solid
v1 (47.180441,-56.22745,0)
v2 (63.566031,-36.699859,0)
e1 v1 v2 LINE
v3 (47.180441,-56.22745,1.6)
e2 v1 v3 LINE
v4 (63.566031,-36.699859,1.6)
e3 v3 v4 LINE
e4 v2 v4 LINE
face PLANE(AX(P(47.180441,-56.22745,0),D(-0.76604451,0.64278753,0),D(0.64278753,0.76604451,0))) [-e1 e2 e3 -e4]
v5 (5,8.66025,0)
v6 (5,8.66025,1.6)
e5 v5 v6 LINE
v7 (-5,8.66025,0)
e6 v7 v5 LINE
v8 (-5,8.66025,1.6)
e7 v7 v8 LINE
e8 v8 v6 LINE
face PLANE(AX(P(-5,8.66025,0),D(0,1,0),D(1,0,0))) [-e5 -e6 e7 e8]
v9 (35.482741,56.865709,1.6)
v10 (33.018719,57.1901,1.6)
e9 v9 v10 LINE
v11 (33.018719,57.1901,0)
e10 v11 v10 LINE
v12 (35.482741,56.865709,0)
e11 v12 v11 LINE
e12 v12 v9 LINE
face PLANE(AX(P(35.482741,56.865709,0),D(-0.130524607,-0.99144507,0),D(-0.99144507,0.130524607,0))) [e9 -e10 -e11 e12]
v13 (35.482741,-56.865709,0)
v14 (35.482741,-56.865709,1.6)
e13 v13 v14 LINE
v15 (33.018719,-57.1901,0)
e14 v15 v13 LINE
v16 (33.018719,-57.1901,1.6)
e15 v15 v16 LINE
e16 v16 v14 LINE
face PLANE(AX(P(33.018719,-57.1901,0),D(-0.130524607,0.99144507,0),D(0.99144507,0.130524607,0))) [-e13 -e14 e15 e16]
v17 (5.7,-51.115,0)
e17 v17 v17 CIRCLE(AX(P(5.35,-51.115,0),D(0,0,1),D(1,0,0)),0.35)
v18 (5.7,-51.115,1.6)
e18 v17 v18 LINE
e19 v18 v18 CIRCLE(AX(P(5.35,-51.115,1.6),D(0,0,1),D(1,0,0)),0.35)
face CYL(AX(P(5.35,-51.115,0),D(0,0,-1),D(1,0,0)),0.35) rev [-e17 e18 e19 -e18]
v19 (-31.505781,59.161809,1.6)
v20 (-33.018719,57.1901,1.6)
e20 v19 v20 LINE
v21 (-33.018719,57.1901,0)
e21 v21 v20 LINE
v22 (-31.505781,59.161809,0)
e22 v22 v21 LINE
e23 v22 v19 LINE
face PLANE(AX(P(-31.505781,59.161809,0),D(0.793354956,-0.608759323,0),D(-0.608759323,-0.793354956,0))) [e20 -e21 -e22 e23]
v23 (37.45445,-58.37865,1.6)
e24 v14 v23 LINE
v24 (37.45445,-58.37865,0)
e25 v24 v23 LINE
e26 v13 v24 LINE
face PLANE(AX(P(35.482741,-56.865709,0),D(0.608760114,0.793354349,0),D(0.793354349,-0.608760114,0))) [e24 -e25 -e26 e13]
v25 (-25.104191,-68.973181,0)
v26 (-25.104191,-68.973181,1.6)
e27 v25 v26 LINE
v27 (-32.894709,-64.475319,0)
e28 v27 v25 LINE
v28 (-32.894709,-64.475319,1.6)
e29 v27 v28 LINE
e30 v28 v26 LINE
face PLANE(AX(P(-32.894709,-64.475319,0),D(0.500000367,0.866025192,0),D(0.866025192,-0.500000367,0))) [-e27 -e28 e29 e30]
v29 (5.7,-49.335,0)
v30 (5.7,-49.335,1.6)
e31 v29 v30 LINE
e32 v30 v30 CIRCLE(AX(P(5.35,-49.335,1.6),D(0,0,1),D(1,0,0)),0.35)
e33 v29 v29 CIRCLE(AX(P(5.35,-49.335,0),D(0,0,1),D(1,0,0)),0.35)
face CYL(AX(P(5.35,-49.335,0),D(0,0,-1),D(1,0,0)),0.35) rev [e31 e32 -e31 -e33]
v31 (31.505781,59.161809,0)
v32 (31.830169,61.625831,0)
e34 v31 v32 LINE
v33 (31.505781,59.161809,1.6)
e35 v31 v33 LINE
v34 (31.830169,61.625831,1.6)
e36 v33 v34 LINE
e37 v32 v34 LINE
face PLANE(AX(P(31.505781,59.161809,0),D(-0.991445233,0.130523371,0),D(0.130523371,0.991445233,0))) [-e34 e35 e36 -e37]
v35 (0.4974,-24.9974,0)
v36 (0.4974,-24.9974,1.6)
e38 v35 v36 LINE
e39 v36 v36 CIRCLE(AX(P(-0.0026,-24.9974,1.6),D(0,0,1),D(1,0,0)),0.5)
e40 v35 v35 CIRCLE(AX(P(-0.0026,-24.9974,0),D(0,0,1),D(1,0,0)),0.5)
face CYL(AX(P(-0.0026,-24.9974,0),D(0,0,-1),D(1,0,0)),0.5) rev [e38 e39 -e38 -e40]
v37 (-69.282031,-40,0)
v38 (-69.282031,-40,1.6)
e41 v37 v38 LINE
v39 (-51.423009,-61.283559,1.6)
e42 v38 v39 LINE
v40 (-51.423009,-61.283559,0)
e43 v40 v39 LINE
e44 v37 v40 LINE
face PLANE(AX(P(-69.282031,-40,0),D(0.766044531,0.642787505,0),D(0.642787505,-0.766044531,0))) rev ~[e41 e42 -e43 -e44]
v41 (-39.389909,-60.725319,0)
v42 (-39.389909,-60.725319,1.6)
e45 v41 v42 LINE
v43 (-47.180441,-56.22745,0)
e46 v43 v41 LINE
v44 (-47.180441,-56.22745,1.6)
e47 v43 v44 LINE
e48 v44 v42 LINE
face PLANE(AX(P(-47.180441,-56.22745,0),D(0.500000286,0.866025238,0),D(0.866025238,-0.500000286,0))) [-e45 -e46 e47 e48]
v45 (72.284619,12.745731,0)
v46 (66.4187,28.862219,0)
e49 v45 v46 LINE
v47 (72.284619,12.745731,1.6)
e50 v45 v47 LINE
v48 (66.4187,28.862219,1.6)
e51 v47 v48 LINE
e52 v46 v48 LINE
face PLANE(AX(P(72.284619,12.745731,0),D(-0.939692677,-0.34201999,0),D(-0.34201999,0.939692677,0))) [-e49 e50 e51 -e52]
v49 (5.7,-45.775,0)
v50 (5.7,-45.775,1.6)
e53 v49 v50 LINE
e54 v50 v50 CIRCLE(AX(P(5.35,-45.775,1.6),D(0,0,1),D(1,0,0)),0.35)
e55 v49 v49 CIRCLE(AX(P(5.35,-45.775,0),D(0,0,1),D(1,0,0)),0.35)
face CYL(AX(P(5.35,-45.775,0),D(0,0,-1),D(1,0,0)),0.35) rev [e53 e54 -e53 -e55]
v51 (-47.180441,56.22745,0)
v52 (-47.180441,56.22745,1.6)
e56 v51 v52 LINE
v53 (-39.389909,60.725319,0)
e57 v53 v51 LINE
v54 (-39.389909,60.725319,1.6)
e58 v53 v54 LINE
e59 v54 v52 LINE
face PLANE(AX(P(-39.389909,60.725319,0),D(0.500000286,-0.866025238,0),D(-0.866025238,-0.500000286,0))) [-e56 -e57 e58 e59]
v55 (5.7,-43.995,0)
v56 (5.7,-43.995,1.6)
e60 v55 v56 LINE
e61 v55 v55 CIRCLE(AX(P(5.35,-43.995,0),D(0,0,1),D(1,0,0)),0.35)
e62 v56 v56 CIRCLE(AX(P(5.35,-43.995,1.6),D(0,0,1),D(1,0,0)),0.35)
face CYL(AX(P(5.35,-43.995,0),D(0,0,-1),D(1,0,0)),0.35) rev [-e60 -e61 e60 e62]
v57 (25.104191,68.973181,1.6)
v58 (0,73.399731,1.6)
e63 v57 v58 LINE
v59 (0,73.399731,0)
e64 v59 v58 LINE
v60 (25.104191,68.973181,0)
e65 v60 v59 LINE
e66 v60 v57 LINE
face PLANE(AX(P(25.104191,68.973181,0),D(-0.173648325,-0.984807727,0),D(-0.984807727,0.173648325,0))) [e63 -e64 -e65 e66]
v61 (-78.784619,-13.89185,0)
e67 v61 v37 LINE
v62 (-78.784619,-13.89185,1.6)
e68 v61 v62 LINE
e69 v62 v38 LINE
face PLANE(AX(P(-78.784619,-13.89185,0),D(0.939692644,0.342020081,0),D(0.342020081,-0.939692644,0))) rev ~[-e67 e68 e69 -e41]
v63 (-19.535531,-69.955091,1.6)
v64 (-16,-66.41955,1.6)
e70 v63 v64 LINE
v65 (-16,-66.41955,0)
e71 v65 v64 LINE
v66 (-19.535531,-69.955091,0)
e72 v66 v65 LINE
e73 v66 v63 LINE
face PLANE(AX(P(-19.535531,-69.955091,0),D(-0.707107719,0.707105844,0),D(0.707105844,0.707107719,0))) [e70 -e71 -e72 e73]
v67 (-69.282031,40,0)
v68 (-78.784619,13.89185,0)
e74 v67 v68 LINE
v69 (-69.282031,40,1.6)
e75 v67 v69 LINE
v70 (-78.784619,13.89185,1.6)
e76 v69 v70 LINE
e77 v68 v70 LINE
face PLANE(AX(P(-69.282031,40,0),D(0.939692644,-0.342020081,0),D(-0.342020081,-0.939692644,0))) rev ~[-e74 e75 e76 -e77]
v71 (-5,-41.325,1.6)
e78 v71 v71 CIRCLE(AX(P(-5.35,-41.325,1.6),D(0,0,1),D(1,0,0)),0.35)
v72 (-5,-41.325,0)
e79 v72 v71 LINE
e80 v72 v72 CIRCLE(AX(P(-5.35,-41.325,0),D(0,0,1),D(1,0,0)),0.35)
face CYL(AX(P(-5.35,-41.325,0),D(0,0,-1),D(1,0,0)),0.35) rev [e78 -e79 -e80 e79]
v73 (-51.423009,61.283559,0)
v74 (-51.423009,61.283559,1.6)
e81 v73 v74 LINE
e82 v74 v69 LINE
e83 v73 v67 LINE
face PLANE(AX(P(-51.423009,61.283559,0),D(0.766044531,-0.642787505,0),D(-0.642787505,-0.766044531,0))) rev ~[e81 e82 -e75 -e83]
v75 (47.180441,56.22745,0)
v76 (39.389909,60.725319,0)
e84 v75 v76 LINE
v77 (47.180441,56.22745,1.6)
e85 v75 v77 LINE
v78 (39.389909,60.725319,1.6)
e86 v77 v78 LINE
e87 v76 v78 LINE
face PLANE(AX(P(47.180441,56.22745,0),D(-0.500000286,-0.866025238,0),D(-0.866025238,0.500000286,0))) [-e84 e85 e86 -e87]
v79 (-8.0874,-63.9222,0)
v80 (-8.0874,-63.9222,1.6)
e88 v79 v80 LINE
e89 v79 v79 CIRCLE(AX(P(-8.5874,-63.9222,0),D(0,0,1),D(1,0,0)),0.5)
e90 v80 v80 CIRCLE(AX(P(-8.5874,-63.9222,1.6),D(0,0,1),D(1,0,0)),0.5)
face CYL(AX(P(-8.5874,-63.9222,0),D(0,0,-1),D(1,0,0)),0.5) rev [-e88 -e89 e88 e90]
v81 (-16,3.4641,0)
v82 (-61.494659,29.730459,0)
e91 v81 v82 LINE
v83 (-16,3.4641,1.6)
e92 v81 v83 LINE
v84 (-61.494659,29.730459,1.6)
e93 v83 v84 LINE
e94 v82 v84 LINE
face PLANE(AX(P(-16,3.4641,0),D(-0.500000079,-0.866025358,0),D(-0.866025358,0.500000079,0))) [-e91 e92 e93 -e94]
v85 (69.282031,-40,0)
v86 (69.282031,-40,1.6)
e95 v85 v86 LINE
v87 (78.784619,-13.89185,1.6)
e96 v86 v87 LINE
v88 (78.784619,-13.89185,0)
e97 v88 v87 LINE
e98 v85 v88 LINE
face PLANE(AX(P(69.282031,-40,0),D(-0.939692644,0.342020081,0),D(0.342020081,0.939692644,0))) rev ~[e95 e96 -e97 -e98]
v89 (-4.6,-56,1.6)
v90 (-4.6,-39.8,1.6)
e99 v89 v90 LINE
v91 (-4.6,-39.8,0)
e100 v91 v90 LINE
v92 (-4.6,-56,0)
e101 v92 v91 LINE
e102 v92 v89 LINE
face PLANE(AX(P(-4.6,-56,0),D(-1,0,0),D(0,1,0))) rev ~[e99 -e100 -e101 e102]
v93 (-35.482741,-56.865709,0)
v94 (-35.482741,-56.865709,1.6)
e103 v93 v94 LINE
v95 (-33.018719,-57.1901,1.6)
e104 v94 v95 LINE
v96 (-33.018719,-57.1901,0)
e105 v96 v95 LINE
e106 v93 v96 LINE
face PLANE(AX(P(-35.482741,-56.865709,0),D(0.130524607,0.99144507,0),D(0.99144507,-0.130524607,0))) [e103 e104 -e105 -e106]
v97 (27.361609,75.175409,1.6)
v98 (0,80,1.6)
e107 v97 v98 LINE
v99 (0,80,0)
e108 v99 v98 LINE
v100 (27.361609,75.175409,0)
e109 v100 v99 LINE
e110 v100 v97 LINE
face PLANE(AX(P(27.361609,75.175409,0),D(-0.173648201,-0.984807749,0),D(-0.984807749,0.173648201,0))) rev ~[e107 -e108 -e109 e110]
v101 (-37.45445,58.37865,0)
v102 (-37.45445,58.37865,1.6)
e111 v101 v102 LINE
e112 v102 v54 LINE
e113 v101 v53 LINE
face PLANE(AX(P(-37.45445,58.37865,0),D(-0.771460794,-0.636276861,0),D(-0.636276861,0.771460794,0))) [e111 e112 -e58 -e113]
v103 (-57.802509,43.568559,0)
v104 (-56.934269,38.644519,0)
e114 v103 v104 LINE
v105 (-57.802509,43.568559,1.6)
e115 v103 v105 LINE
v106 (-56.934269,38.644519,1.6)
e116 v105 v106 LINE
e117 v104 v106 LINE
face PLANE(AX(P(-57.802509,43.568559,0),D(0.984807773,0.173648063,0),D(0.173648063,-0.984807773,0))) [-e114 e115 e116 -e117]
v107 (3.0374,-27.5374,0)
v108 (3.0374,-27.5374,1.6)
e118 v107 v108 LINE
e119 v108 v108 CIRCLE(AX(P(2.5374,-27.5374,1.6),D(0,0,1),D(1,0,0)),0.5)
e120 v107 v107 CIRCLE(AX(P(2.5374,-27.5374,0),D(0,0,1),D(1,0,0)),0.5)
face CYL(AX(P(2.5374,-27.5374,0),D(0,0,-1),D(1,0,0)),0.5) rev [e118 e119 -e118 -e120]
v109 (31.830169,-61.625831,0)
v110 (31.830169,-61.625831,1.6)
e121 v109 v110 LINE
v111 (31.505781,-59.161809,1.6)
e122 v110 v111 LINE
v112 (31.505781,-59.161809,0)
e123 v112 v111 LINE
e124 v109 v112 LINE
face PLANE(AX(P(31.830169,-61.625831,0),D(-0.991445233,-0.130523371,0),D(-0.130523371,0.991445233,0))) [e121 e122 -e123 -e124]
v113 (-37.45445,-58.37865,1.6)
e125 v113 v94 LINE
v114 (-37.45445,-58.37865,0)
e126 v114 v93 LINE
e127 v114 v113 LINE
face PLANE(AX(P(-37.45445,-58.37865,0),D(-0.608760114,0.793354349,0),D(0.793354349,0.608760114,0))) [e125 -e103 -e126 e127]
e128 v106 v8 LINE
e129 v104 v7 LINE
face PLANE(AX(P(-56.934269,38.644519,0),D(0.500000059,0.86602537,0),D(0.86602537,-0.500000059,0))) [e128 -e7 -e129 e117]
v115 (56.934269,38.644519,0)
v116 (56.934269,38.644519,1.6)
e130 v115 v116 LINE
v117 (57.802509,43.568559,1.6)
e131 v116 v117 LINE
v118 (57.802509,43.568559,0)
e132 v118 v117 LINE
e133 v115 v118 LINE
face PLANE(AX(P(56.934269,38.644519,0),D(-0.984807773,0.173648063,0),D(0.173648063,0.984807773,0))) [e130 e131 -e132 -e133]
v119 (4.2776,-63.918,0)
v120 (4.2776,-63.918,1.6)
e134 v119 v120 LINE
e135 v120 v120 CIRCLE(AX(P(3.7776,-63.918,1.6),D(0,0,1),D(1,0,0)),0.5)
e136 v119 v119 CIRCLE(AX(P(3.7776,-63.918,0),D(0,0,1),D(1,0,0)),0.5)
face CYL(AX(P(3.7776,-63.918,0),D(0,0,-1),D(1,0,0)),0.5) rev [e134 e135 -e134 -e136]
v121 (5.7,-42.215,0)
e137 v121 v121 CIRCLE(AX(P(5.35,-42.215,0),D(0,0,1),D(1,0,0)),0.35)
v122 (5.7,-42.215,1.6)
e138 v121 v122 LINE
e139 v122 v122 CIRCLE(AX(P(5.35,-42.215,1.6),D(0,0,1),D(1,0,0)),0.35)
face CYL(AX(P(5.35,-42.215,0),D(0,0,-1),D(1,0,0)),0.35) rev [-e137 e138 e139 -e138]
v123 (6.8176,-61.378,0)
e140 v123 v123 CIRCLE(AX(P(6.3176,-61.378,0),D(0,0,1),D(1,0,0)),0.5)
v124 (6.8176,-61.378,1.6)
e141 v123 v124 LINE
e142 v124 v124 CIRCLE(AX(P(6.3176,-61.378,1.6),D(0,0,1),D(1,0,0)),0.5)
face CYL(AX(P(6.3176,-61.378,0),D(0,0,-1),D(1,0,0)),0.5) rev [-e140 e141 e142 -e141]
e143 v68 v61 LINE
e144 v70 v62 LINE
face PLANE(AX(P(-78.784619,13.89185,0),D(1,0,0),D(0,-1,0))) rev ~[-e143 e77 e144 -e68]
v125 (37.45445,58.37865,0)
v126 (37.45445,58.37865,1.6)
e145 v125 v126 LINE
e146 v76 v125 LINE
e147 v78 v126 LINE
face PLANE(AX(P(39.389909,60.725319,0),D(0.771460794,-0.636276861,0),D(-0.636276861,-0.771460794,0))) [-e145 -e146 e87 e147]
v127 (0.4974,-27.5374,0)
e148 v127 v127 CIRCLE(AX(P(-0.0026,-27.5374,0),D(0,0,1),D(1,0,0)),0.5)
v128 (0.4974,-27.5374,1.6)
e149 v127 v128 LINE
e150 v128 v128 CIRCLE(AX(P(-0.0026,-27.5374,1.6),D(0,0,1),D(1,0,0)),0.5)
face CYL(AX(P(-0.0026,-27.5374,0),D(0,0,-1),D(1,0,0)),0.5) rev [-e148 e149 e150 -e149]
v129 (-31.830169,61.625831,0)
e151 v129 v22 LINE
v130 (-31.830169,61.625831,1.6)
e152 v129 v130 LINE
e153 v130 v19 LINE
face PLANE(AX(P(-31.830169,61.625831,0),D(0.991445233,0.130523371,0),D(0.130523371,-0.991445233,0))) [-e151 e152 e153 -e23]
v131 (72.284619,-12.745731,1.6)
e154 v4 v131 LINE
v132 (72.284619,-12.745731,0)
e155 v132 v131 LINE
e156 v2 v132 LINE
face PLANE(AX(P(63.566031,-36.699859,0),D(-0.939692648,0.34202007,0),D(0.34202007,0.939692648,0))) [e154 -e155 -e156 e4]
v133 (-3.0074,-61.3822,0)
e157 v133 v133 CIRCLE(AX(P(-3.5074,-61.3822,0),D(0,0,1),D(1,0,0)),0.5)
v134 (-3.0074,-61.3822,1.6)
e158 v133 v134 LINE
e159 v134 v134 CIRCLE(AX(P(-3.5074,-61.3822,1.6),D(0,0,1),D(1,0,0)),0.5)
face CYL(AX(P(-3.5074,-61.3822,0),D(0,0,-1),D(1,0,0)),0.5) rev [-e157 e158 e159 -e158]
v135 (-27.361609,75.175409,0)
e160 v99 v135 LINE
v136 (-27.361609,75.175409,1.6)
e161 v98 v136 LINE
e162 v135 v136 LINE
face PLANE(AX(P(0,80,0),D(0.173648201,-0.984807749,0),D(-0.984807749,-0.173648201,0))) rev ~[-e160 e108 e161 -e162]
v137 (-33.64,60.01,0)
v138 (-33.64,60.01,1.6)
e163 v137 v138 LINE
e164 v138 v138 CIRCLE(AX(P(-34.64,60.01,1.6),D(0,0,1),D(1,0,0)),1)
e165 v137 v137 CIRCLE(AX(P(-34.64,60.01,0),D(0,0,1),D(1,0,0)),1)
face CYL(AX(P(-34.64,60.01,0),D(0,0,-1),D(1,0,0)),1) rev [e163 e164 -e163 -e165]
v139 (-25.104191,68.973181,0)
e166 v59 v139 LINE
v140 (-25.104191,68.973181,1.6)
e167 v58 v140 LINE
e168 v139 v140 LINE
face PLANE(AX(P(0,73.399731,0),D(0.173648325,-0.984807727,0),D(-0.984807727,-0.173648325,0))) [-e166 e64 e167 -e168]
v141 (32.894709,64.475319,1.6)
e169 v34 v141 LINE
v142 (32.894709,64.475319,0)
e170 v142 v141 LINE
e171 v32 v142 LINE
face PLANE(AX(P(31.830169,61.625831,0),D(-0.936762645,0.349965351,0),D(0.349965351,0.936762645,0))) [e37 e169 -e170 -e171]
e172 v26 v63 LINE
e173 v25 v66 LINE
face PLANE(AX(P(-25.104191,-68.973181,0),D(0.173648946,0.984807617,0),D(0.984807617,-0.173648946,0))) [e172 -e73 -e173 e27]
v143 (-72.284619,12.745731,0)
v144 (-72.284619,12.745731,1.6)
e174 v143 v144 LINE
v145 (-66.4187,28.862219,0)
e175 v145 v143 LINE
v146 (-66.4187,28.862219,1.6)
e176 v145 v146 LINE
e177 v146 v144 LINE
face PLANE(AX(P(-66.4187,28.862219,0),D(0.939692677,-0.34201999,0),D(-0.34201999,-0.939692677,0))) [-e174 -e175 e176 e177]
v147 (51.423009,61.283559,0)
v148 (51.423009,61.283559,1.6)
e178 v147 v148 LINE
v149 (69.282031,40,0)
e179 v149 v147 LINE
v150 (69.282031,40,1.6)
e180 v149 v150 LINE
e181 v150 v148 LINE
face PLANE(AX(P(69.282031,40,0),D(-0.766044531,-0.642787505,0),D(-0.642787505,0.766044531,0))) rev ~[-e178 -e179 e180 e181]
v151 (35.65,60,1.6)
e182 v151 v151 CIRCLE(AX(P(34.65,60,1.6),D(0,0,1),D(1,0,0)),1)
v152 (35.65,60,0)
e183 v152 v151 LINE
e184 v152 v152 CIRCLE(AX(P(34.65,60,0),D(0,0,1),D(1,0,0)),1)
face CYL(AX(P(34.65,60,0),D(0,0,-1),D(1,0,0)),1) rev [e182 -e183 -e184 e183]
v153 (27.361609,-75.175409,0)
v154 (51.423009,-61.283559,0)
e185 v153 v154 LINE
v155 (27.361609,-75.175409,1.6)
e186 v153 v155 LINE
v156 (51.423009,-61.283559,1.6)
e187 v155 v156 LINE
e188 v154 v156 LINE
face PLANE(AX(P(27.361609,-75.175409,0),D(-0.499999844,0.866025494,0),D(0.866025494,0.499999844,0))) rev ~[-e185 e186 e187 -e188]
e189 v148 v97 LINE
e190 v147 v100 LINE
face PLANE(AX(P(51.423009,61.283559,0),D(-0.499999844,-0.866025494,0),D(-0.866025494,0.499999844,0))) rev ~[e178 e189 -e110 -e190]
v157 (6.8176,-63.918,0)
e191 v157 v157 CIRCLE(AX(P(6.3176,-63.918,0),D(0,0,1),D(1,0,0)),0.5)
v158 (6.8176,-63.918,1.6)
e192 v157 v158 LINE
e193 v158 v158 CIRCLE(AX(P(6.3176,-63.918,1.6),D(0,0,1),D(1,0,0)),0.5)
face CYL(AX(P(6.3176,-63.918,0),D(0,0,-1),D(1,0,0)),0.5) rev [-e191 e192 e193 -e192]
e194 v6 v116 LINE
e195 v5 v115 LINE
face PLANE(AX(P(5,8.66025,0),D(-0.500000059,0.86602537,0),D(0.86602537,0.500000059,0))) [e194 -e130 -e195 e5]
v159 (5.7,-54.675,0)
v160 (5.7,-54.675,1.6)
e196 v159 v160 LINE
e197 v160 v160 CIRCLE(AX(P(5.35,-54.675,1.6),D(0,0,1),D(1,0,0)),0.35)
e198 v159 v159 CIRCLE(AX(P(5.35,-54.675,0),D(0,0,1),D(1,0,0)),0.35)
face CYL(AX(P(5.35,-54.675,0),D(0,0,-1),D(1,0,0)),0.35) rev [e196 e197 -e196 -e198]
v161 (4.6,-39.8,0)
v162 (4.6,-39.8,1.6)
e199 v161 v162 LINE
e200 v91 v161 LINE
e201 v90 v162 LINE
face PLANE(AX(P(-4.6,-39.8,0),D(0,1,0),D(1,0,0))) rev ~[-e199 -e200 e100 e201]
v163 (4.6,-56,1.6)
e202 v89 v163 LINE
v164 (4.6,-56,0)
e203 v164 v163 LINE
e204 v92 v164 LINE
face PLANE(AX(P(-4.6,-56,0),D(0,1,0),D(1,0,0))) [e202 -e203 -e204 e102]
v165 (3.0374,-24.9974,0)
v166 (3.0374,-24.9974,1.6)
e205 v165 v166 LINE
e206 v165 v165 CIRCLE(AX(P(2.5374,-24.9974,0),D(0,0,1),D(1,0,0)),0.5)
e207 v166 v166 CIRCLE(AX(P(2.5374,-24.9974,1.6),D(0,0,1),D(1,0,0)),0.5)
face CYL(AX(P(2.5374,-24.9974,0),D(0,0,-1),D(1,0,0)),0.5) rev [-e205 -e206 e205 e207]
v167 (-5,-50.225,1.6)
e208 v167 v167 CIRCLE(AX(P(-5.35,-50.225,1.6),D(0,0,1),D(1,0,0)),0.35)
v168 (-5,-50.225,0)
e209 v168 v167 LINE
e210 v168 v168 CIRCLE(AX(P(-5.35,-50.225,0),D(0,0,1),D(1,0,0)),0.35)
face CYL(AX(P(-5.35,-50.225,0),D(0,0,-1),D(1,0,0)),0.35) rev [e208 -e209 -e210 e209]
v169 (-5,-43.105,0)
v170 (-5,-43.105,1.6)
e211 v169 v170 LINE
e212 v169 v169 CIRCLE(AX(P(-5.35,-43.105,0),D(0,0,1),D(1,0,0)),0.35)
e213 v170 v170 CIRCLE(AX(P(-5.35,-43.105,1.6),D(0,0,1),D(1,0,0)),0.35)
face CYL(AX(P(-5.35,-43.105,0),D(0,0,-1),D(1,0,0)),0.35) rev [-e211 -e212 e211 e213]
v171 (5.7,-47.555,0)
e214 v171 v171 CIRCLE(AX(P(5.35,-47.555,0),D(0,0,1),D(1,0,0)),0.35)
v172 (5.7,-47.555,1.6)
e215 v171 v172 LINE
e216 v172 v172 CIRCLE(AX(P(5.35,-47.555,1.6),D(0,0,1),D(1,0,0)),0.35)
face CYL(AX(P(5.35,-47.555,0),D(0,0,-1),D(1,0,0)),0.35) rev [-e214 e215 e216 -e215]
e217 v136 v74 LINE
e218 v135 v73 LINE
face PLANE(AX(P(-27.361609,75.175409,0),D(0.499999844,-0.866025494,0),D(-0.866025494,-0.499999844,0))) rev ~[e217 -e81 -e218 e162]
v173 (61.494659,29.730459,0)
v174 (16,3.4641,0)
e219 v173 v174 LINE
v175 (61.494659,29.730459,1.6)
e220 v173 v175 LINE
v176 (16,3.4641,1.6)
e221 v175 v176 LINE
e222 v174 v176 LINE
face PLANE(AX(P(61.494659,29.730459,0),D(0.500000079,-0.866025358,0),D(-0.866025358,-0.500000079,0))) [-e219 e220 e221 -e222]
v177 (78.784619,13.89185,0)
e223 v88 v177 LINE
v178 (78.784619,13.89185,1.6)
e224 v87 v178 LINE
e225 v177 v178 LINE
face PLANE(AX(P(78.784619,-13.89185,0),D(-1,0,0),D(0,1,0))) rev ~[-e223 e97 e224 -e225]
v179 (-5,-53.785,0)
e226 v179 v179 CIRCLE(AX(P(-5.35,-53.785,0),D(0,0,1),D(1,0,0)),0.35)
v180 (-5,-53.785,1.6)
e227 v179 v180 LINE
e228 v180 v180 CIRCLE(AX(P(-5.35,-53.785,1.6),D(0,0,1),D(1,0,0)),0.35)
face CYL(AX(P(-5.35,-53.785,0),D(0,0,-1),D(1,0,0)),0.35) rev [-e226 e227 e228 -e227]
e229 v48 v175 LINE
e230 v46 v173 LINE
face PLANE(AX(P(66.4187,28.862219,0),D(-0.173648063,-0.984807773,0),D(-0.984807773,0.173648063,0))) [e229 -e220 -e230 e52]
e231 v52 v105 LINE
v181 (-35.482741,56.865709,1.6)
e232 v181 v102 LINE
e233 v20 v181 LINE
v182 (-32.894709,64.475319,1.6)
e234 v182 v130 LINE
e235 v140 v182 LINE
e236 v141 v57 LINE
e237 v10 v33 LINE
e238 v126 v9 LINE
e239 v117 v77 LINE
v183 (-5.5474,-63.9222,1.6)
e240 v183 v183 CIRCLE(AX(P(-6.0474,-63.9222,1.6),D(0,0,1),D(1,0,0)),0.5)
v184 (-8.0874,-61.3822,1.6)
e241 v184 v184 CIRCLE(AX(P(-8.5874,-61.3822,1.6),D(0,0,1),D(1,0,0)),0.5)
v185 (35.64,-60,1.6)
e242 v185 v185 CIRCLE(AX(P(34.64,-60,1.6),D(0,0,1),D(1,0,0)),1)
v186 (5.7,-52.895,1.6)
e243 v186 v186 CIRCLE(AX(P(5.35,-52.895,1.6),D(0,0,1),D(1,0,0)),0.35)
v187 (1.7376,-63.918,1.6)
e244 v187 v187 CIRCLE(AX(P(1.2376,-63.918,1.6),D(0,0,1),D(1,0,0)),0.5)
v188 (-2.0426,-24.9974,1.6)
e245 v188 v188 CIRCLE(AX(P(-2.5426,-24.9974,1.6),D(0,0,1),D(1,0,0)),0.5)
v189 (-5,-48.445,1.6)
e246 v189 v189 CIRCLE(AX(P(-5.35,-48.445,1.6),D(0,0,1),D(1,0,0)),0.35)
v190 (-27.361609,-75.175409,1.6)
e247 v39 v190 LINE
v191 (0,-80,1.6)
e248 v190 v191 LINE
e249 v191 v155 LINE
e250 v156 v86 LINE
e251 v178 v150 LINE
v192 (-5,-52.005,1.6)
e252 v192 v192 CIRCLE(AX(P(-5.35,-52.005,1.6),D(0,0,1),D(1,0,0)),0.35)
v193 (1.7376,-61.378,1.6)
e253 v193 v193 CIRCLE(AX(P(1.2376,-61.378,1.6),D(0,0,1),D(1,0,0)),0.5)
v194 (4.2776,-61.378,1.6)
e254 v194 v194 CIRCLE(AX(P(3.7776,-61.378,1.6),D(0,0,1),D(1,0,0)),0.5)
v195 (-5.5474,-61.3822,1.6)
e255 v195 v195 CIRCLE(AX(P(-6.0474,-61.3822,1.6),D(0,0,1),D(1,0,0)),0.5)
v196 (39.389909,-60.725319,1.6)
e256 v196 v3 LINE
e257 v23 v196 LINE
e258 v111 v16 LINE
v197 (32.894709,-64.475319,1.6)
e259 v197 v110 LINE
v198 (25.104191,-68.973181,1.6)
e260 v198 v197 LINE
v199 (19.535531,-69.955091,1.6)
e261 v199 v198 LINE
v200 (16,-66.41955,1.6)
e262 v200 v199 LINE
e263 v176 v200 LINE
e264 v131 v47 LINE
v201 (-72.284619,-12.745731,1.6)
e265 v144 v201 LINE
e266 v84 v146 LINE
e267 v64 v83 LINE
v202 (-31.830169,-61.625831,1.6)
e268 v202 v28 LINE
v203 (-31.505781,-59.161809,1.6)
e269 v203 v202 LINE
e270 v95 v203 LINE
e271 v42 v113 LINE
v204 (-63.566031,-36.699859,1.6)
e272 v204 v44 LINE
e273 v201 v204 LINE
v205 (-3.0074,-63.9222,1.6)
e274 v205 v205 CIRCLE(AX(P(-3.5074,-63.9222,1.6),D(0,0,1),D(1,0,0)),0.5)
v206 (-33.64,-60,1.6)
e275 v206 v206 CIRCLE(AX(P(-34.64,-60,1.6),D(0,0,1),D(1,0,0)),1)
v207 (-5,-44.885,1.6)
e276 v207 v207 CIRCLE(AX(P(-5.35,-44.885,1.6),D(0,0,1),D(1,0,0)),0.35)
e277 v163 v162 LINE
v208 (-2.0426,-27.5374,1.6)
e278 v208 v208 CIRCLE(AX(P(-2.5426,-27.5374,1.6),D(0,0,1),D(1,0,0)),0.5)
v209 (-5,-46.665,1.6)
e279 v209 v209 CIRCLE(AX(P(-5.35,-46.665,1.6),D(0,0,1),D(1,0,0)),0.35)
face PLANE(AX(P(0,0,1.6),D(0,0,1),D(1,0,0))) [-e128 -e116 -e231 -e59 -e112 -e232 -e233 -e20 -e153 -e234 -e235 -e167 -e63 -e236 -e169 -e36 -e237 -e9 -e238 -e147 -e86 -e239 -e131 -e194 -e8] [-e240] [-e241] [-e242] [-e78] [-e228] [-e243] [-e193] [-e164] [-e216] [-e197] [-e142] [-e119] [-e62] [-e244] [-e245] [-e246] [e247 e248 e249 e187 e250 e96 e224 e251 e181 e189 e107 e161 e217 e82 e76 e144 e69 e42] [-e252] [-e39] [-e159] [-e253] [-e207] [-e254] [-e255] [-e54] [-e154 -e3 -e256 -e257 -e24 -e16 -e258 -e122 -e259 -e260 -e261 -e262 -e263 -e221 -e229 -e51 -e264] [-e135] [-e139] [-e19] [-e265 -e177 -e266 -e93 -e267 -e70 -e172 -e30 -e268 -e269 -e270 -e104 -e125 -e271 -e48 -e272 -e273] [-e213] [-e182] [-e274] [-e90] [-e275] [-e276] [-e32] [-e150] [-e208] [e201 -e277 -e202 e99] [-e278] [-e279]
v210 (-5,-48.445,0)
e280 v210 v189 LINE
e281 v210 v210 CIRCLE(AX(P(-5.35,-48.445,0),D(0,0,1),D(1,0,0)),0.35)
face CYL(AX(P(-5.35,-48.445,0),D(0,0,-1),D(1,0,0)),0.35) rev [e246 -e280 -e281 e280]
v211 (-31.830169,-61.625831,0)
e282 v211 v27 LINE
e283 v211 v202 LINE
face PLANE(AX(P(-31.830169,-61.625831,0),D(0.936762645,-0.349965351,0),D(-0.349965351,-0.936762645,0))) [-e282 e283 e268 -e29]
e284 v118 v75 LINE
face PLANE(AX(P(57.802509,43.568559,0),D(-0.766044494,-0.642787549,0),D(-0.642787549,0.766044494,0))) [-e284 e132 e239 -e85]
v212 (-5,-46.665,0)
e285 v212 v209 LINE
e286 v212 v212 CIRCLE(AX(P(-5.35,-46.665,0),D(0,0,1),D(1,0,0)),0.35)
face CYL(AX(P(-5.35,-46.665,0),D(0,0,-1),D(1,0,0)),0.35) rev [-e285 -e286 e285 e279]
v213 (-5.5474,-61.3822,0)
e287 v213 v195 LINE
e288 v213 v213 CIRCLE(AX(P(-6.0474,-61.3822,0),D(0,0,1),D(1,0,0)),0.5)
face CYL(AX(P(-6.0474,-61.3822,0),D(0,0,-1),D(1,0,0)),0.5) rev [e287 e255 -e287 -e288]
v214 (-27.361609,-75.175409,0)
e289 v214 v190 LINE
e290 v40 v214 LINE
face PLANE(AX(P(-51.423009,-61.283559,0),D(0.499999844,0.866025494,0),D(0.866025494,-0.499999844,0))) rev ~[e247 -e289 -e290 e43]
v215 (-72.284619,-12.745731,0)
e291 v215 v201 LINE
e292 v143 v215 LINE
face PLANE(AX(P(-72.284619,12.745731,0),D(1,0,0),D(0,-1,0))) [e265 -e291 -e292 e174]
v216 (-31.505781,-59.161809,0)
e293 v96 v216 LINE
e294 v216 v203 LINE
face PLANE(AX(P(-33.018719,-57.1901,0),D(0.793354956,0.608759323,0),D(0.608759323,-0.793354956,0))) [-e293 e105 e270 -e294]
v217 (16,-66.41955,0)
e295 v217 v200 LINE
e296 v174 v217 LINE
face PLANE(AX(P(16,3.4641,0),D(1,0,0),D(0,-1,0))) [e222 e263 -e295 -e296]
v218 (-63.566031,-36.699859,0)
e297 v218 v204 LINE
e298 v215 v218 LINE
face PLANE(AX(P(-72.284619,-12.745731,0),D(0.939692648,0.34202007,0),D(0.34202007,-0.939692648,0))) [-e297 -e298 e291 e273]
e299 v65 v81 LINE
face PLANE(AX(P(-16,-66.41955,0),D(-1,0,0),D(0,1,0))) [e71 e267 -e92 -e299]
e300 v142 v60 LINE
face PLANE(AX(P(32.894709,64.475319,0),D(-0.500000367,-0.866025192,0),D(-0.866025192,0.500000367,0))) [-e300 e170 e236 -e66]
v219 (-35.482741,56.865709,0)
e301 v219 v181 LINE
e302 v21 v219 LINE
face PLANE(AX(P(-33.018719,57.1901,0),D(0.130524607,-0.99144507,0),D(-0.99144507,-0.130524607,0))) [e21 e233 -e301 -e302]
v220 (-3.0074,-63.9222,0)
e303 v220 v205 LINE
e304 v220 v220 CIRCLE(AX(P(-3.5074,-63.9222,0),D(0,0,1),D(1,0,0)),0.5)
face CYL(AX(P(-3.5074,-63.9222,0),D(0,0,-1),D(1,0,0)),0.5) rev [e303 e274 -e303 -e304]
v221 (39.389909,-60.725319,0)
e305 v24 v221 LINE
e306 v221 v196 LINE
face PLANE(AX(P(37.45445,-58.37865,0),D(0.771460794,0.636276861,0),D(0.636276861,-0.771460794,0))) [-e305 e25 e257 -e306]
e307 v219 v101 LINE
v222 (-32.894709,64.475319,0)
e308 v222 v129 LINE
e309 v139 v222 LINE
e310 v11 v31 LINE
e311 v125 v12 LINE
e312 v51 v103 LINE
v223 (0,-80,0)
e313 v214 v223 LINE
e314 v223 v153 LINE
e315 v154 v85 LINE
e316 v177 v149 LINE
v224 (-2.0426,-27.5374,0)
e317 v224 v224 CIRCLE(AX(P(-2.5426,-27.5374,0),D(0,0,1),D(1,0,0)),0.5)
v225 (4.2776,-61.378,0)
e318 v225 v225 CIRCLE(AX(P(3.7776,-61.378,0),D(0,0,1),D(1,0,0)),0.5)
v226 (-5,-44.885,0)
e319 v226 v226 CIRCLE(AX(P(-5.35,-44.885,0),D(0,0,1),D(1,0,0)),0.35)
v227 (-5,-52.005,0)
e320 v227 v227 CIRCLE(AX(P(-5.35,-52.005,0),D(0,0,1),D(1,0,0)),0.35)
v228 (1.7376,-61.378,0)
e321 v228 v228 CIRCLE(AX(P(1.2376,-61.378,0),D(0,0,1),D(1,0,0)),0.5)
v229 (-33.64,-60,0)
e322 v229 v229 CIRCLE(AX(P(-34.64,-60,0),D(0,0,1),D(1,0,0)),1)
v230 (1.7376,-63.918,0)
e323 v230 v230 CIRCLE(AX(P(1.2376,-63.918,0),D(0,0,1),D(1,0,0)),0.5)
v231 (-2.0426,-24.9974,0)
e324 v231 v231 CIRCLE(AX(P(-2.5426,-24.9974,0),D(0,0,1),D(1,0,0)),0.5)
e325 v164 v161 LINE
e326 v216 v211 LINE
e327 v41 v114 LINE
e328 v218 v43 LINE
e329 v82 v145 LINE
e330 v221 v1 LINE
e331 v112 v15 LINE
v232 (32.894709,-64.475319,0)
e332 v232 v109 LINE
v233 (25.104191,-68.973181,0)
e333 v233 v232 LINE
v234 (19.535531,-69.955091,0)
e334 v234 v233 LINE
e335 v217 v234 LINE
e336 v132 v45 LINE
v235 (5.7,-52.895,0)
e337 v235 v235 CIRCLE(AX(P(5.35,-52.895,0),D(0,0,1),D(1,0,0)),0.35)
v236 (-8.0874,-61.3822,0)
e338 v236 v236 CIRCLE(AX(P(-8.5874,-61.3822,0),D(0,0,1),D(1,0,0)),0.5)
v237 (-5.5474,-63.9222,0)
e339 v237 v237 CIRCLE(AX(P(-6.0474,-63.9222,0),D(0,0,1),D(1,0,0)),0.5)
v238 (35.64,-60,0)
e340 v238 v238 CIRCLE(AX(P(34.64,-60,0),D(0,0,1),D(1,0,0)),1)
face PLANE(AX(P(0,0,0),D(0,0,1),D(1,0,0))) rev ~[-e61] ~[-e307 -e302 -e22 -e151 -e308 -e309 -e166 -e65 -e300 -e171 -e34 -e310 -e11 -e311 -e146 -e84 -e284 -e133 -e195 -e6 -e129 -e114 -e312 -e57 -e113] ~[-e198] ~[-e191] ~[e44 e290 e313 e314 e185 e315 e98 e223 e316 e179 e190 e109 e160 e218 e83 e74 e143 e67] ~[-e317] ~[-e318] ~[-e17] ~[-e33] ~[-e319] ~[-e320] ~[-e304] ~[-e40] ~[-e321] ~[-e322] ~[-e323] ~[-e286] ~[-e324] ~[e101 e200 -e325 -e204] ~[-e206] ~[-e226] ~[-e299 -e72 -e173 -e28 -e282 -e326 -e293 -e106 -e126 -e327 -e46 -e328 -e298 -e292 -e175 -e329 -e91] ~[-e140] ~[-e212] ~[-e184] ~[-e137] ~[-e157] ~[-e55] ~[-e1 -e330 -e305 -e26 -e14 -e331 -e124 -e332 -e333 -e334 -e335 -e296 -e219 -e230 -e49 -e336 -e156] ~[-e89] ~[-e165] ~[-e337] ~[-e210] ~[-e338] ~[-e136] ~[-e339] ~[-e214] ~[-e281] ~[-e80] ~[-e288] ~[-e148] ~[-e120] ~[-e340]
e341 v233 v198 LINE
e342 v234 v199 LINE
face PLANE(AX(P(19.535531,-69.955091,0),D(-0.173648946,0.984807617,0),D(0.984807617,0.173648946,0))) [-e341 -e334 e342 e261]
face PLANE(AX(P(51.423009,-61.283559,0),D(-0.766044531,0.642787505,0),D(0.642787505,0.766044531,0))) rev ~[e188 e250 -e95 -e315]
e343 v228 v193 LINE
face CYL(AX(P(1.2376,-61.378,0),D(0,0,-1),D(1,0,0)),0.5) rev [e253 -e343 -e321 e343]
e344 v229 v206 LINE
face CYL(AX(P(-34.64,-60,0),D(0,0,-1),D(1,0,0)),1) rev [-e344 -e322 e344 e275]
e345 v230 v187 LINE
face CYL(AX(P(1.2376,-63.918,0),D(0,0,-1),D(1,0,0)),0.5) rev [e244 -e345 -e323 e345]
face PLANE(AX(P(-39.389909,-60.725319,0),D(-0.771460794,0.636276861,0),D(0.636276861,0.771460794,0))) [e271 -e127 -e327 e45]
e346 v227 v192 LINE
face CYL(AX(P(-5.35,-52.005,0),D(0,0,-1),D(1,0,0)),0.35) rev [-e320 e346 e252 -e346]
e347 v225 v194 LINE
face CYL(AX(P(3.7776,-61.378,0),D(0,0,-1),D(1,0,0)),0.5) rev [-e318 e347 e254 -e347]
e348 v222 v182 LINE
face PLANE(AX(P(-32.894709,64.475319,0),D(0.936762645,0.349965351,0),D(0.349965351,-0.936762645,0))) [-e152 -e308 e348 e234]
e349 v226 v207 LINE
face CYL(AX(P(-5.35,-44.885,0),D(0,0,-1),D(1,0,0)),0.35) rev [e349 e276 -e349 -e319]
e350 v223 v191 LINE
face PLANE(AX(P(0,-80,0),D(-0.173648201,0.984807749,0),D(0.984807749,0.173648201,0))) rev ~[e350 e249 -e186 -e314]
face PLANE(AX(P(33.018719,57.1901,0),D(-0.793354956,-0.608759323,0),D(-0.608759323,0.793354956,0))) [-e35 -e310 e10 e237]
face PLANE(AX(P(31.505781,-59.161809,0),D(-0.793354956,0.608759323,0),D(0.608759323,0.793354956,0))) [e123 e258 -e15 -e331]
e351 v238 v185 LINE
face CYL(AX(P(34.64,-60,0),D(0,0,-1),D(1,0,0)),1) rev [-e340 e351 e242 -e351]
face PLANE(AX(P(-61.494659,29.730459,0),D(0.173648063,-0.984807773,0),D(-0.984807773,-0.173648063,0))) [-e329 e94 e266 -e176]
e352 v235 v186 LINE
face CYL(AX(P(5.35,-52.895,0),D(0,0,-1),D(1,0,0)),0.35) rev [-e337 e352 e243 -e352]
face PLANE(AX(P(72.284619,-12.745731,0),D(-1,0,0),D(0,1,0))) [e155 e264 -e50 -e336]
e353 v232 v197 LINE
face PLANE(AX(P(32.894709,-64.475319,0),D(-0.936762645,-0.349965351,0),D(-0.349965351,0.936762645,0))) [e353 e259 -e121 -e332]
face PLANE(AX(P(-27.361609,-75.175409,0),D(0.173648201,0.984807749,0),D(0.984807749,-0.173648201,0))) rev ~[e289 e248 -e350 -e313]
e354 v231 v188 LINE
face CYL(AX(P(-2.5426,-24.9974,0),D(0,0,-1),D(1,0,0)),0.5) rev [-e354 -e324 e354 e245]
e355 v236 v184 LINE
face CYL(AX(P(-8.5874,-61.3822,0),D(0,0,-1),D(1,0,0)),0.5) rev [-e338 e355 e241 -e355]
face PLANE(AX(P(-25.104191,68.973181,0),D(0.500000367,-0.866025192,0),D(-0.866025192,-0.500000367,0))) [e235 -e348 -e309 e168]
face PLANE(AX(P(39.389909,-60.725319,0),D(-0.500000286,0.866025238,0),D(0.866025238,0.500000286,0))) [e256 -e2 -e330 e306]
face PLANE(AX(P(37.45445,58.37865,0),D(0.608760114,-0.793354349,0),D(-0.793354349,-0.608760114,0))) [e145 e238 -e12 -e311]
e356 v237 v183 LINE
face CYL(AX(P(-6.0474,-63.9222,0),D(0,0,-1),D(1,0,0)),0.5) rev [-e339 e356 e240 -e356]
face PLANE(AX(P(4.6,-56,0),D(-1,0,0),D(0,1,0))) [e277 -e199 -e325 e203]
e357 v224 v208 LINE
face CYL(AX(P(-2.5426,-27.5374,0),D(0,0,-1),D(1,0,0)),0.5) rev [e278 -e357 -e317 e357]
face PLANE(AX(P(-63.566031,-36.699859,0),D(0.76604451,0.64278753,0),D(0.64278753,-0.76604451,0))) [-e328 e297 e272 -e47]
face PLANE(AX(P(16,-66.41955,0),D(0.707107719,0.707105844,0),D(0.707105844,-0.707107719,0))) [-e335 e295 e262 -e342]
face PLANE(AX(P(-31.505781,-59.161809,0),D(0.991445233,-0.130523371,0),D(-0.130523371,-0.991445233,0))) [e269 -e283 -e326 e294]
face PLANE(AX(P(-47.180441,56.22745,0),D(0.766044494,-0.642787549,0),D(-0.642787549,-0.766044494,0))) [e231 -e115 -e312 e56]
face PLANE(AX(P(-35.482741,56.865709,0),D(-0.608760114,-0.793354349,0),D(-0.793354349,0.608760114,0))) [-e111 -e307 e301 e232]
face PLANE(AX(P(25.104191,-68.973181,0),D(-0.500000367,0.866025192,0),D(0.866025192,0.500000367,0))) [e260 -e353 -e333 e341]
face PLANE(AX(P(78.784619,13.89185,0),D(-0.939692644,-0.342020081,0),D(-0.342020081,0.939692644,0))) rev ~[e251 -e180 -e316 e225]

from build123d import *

# Parameters (mm, degrees)
MODEL_R             = 1
MODEL_R_2           = 0.5
MODEL_R_3           = 0.35
MODEL_W             = 9.2
MODEL_H             = 16.2
BOSS_EXTRUDE1_DEPTH = 1.6


with BuildPart() as part:
    # Model → Boss-Extrude1 (new body)
    with BuildSketch(Plane.XY):
        Polygon((-78.78461875, -13.89185), (-69.28203125, -40), (-51.423009375, -61.283559375), (-27.361609375, -75.175409375), (0, -80), (27.361609375, -75.175409375), (51.423009375, -61.283559375), (69.28203125, -40), (78.78461875, -13.89185), (78.78461875, 13.89185), (69.28203125, 40), (51.423009375, 61.283559375), (27.361609375, 75.175409375), (0, 80), (-27.361609375, 75.175409375), (-51.423009375, 61.283559375), (-69.28203125, 40), (-78.78461875, 13.89185), align=None)
        with Locations((34.64, -60)):
            Circle(MODEL_R, mode=Mode.SUBTRACT)
        with Locations((-34.64, 60.01)):
            Circle(MODEL_R, mode=Mode.SUBTRACT)
        with Locations((34.65, 60)):
            Circle(MODEL_R, mode=Mode.SUBTRACT)
        with Locations((-34.64, -60)):
            Circle(MODEL_R, mode=Mode.SUBTRACT)
        with Locations((6.3176, -61.378)):
            Circle(MODEL_R_2, mode=Mode.SUBTRACT)
        with Locations((6.3176, -63.918)):
            Circle(MODEL_R_2, mode=Mode.SUBTRACT)
        with Locations((3.7776, -63.918)):
            Circle(MODEL_R_2, mode=Mode.SUBTRACT)
        with Locations((1.2376, -63.918)):
            Circle(MODEL_R_2, mode=Mode.SUBTRACT)
        with Locations((2.5374, -27.5374)):
            Circle(MODEL_R_2, mode=Mode.SUBTRACT)
        with Locations((-0.0026, -27.5374)):
            Circle(MODEL_R_2, mode=Mode.SUBTRACT)
        with Locations((-2.5426, -27.5374)):
            Circle(MODEL_R_2, mode=Mode.SUBTRACT)
        with Locations((-2.5426, -24.9974)):
            Circle(MODEL_R_2, mode=Mode.SUBTRACT)
        with Locations((2.5374, -24.9974)):
            Circle(MODEL_R_2, mode=Mode.SUBTRACT)
        with Locations((-3.5074, -63.9222)):
            Circle(MODEL_R_2, mode=Mode.SUBTRACT)
        with Locations((-6.0474, -63.9222)):
            Circle(MODEL_R_2, mode=Mode.SUBTRACT)
        with Locations((-8.5874, -63.9222)):
            Circle(MODEL_R_2, mode=Mode.SUBTRACT)
        with Locations((-8.5874, -61.3822)):
            Circle(MODEL_R_2, mode=Mode.SUBTRACT)
        with Locations((-6.0474, -61.3822)):
            Circle(MODEL_R_2, mode=Mode.SUBTRACT)
        with Locations((-3.5074, -61.3822)):
            Circle(MODEL_R_2, mode=Mode.SUBTRACT)
        with Locations((-0.0026, -24.9974)):
            Circle(MODEL_R_2, mode=Mode.SUBTRACT)
        with Locations((1.2376, -61.378)):
            Circle(MODEL_R_2, mode=Mode.SUBTRACT)
        with Locations((3.7776, -61.378)):
            Circle(MODEL_R_2, mode=Mode.SUBTRACT)
        with Locations((-5.35, -43.105)):
            Circle(MODEL_R_3, mode=Mode.SUBTRACT)
        with Locations((-5.35, -44.885)):
            Circle(MODEL_R_3, mode=Mode.SUBTRACT)
        with Locations((-5.35, -46.665)):
            Circle(MODEL_R_3, mode=Mode.SUBTRACT)
        with Locations((-5.35, -48.445)):
            Circle(MODEL_R_3, mode=Mode.SUBTRACT)
        with Locations((-5.35, -50.225)):
            Circle(MODEL_R_3, mode=Mode.SUBTRACT)
        with Locations((-5.35, -52.005)):
            Circle(MODEL_R_3, mode=Mode.SUBTRACT)
        with Locations((-5.35, -53.785)):
            Circle(MODEL_R_3, mode=Mode.SUBTRACT)
        with Locations((5.35, -54.675)):
            Circle(MODEL_R_3, mode=Mode.SUBTRACT)
        with Locations((5.35, -52.895)):
            Circle(MODEL_R_3, mode=Mode.SUBTRACT)
        with Locations((5.35, -51.115)):
            Circle(MODEL_R_3, mode=Mode.SUBTRACT)
        with Locations((5.35, -49.335)):
            Circle(MODEL_R_3, mode=Mode.SUBTRACT)
        with Locations((5.35, -47.555)):
            Circle(MODEL_R_3, mode=Mode.SUBTRACT)
        with Locations((5.35, -45.775)):
            Circle(MODEL_R_3, mode=Mode.SUBTRACT)
        with Locations((5.35, -43.995)):
            Circle(MODEL_R_3, mode=Mode.SUBTRACT)
        with Locations((-5.35, -41.325)):
            Circle(MODEL_R_3, mode=Mode.SUBTRACT)
        with Locations((5.35, -42.215)):
            Circle(MODEL_R_3, mode=Mode.SUBTRACT)
        with Locations((0, -47.9)):
            Rectangle(MODEL_W, MODEL_H, mode=Mode.SUBTRACT)
        Polygon((-72.28461875, -12.74573125), (-63.56603125, -36.699859375), (-47.180440625, -56.22745), (-39.389909375, -60.72531875), (-37.45445, -58.37865), (-35.482740625, -56.865709375), (-33.01871875, -57.1901), (-31.50578125, -59.161809375), (-31.83016875, -61.62583125), (-32.894709375, -64.47531875), (-25.104190625, -68.97318125), (-19.53553125, -69.955090625), (-16, -66.41955), (-16, 3.4641), (-61.494659375, 29.730459375), (-66.4187, 28.86221875), (-72.28461875, 12.74573125), align=None, mode=Mode.SUBTRACT)
        Polygon((16, -66.41955), (19.53553125, -69.955090625), (25.104190625, -68.97318125), (32.894709375, -64.47531875), (31.83016875, -61.62583125), (31.50578125, -59.161809375), (33.01871875, -57.1901), (35.482740625, -56.865709375), (37.45445, -58.37865), (39.389909375, -60.72531875), (47.180440625, -56.22745), (63.56603125, -36.699859375), (72.28461875, -12.74573125), (72.28461875, 12.74573125), (66.4187, 28.86221875), (61.494659375, 29.730459375), (16, 3.4641), align=None, mode=Mode.SUBTRACT)
        Polygon((-57.802509375, 43.568559375), (-56.93426875, 38.64451875), (-5, 8.66025), (5, 8.66025), (56.93426875, 38.64451875), (57.802509375, 43.568559375), (47.180440625, 56.22745), (39.389909375, 60.72531875), (37.45445, 58.37865), (35.482740625, 56.865709375), (33.01871875, 57.1901), (31.50578125, 59.161809375), (31.83016875, 61.62583125), (32.894709375, 64.47531875), (25.104190625, 68.97318125), (0, 73.39973125), (-25.104190625, 68.97318125), (-32.894709375, 64.47531875), (-31.83016875, 61.62583125), (-31.50578125, 59.161809375), (-33.01871875, 57.1901), (-35.482740625, 56.865709375), (-37.45445, 58.37865), (-39.389909375, 60.72531875), (-47.180440625, 56.22745), align=None, mode=Mode.SUBTRACT)
    extrude(amount=BOSS_EXTRUDE1_DEPTH)


solid = part.part
